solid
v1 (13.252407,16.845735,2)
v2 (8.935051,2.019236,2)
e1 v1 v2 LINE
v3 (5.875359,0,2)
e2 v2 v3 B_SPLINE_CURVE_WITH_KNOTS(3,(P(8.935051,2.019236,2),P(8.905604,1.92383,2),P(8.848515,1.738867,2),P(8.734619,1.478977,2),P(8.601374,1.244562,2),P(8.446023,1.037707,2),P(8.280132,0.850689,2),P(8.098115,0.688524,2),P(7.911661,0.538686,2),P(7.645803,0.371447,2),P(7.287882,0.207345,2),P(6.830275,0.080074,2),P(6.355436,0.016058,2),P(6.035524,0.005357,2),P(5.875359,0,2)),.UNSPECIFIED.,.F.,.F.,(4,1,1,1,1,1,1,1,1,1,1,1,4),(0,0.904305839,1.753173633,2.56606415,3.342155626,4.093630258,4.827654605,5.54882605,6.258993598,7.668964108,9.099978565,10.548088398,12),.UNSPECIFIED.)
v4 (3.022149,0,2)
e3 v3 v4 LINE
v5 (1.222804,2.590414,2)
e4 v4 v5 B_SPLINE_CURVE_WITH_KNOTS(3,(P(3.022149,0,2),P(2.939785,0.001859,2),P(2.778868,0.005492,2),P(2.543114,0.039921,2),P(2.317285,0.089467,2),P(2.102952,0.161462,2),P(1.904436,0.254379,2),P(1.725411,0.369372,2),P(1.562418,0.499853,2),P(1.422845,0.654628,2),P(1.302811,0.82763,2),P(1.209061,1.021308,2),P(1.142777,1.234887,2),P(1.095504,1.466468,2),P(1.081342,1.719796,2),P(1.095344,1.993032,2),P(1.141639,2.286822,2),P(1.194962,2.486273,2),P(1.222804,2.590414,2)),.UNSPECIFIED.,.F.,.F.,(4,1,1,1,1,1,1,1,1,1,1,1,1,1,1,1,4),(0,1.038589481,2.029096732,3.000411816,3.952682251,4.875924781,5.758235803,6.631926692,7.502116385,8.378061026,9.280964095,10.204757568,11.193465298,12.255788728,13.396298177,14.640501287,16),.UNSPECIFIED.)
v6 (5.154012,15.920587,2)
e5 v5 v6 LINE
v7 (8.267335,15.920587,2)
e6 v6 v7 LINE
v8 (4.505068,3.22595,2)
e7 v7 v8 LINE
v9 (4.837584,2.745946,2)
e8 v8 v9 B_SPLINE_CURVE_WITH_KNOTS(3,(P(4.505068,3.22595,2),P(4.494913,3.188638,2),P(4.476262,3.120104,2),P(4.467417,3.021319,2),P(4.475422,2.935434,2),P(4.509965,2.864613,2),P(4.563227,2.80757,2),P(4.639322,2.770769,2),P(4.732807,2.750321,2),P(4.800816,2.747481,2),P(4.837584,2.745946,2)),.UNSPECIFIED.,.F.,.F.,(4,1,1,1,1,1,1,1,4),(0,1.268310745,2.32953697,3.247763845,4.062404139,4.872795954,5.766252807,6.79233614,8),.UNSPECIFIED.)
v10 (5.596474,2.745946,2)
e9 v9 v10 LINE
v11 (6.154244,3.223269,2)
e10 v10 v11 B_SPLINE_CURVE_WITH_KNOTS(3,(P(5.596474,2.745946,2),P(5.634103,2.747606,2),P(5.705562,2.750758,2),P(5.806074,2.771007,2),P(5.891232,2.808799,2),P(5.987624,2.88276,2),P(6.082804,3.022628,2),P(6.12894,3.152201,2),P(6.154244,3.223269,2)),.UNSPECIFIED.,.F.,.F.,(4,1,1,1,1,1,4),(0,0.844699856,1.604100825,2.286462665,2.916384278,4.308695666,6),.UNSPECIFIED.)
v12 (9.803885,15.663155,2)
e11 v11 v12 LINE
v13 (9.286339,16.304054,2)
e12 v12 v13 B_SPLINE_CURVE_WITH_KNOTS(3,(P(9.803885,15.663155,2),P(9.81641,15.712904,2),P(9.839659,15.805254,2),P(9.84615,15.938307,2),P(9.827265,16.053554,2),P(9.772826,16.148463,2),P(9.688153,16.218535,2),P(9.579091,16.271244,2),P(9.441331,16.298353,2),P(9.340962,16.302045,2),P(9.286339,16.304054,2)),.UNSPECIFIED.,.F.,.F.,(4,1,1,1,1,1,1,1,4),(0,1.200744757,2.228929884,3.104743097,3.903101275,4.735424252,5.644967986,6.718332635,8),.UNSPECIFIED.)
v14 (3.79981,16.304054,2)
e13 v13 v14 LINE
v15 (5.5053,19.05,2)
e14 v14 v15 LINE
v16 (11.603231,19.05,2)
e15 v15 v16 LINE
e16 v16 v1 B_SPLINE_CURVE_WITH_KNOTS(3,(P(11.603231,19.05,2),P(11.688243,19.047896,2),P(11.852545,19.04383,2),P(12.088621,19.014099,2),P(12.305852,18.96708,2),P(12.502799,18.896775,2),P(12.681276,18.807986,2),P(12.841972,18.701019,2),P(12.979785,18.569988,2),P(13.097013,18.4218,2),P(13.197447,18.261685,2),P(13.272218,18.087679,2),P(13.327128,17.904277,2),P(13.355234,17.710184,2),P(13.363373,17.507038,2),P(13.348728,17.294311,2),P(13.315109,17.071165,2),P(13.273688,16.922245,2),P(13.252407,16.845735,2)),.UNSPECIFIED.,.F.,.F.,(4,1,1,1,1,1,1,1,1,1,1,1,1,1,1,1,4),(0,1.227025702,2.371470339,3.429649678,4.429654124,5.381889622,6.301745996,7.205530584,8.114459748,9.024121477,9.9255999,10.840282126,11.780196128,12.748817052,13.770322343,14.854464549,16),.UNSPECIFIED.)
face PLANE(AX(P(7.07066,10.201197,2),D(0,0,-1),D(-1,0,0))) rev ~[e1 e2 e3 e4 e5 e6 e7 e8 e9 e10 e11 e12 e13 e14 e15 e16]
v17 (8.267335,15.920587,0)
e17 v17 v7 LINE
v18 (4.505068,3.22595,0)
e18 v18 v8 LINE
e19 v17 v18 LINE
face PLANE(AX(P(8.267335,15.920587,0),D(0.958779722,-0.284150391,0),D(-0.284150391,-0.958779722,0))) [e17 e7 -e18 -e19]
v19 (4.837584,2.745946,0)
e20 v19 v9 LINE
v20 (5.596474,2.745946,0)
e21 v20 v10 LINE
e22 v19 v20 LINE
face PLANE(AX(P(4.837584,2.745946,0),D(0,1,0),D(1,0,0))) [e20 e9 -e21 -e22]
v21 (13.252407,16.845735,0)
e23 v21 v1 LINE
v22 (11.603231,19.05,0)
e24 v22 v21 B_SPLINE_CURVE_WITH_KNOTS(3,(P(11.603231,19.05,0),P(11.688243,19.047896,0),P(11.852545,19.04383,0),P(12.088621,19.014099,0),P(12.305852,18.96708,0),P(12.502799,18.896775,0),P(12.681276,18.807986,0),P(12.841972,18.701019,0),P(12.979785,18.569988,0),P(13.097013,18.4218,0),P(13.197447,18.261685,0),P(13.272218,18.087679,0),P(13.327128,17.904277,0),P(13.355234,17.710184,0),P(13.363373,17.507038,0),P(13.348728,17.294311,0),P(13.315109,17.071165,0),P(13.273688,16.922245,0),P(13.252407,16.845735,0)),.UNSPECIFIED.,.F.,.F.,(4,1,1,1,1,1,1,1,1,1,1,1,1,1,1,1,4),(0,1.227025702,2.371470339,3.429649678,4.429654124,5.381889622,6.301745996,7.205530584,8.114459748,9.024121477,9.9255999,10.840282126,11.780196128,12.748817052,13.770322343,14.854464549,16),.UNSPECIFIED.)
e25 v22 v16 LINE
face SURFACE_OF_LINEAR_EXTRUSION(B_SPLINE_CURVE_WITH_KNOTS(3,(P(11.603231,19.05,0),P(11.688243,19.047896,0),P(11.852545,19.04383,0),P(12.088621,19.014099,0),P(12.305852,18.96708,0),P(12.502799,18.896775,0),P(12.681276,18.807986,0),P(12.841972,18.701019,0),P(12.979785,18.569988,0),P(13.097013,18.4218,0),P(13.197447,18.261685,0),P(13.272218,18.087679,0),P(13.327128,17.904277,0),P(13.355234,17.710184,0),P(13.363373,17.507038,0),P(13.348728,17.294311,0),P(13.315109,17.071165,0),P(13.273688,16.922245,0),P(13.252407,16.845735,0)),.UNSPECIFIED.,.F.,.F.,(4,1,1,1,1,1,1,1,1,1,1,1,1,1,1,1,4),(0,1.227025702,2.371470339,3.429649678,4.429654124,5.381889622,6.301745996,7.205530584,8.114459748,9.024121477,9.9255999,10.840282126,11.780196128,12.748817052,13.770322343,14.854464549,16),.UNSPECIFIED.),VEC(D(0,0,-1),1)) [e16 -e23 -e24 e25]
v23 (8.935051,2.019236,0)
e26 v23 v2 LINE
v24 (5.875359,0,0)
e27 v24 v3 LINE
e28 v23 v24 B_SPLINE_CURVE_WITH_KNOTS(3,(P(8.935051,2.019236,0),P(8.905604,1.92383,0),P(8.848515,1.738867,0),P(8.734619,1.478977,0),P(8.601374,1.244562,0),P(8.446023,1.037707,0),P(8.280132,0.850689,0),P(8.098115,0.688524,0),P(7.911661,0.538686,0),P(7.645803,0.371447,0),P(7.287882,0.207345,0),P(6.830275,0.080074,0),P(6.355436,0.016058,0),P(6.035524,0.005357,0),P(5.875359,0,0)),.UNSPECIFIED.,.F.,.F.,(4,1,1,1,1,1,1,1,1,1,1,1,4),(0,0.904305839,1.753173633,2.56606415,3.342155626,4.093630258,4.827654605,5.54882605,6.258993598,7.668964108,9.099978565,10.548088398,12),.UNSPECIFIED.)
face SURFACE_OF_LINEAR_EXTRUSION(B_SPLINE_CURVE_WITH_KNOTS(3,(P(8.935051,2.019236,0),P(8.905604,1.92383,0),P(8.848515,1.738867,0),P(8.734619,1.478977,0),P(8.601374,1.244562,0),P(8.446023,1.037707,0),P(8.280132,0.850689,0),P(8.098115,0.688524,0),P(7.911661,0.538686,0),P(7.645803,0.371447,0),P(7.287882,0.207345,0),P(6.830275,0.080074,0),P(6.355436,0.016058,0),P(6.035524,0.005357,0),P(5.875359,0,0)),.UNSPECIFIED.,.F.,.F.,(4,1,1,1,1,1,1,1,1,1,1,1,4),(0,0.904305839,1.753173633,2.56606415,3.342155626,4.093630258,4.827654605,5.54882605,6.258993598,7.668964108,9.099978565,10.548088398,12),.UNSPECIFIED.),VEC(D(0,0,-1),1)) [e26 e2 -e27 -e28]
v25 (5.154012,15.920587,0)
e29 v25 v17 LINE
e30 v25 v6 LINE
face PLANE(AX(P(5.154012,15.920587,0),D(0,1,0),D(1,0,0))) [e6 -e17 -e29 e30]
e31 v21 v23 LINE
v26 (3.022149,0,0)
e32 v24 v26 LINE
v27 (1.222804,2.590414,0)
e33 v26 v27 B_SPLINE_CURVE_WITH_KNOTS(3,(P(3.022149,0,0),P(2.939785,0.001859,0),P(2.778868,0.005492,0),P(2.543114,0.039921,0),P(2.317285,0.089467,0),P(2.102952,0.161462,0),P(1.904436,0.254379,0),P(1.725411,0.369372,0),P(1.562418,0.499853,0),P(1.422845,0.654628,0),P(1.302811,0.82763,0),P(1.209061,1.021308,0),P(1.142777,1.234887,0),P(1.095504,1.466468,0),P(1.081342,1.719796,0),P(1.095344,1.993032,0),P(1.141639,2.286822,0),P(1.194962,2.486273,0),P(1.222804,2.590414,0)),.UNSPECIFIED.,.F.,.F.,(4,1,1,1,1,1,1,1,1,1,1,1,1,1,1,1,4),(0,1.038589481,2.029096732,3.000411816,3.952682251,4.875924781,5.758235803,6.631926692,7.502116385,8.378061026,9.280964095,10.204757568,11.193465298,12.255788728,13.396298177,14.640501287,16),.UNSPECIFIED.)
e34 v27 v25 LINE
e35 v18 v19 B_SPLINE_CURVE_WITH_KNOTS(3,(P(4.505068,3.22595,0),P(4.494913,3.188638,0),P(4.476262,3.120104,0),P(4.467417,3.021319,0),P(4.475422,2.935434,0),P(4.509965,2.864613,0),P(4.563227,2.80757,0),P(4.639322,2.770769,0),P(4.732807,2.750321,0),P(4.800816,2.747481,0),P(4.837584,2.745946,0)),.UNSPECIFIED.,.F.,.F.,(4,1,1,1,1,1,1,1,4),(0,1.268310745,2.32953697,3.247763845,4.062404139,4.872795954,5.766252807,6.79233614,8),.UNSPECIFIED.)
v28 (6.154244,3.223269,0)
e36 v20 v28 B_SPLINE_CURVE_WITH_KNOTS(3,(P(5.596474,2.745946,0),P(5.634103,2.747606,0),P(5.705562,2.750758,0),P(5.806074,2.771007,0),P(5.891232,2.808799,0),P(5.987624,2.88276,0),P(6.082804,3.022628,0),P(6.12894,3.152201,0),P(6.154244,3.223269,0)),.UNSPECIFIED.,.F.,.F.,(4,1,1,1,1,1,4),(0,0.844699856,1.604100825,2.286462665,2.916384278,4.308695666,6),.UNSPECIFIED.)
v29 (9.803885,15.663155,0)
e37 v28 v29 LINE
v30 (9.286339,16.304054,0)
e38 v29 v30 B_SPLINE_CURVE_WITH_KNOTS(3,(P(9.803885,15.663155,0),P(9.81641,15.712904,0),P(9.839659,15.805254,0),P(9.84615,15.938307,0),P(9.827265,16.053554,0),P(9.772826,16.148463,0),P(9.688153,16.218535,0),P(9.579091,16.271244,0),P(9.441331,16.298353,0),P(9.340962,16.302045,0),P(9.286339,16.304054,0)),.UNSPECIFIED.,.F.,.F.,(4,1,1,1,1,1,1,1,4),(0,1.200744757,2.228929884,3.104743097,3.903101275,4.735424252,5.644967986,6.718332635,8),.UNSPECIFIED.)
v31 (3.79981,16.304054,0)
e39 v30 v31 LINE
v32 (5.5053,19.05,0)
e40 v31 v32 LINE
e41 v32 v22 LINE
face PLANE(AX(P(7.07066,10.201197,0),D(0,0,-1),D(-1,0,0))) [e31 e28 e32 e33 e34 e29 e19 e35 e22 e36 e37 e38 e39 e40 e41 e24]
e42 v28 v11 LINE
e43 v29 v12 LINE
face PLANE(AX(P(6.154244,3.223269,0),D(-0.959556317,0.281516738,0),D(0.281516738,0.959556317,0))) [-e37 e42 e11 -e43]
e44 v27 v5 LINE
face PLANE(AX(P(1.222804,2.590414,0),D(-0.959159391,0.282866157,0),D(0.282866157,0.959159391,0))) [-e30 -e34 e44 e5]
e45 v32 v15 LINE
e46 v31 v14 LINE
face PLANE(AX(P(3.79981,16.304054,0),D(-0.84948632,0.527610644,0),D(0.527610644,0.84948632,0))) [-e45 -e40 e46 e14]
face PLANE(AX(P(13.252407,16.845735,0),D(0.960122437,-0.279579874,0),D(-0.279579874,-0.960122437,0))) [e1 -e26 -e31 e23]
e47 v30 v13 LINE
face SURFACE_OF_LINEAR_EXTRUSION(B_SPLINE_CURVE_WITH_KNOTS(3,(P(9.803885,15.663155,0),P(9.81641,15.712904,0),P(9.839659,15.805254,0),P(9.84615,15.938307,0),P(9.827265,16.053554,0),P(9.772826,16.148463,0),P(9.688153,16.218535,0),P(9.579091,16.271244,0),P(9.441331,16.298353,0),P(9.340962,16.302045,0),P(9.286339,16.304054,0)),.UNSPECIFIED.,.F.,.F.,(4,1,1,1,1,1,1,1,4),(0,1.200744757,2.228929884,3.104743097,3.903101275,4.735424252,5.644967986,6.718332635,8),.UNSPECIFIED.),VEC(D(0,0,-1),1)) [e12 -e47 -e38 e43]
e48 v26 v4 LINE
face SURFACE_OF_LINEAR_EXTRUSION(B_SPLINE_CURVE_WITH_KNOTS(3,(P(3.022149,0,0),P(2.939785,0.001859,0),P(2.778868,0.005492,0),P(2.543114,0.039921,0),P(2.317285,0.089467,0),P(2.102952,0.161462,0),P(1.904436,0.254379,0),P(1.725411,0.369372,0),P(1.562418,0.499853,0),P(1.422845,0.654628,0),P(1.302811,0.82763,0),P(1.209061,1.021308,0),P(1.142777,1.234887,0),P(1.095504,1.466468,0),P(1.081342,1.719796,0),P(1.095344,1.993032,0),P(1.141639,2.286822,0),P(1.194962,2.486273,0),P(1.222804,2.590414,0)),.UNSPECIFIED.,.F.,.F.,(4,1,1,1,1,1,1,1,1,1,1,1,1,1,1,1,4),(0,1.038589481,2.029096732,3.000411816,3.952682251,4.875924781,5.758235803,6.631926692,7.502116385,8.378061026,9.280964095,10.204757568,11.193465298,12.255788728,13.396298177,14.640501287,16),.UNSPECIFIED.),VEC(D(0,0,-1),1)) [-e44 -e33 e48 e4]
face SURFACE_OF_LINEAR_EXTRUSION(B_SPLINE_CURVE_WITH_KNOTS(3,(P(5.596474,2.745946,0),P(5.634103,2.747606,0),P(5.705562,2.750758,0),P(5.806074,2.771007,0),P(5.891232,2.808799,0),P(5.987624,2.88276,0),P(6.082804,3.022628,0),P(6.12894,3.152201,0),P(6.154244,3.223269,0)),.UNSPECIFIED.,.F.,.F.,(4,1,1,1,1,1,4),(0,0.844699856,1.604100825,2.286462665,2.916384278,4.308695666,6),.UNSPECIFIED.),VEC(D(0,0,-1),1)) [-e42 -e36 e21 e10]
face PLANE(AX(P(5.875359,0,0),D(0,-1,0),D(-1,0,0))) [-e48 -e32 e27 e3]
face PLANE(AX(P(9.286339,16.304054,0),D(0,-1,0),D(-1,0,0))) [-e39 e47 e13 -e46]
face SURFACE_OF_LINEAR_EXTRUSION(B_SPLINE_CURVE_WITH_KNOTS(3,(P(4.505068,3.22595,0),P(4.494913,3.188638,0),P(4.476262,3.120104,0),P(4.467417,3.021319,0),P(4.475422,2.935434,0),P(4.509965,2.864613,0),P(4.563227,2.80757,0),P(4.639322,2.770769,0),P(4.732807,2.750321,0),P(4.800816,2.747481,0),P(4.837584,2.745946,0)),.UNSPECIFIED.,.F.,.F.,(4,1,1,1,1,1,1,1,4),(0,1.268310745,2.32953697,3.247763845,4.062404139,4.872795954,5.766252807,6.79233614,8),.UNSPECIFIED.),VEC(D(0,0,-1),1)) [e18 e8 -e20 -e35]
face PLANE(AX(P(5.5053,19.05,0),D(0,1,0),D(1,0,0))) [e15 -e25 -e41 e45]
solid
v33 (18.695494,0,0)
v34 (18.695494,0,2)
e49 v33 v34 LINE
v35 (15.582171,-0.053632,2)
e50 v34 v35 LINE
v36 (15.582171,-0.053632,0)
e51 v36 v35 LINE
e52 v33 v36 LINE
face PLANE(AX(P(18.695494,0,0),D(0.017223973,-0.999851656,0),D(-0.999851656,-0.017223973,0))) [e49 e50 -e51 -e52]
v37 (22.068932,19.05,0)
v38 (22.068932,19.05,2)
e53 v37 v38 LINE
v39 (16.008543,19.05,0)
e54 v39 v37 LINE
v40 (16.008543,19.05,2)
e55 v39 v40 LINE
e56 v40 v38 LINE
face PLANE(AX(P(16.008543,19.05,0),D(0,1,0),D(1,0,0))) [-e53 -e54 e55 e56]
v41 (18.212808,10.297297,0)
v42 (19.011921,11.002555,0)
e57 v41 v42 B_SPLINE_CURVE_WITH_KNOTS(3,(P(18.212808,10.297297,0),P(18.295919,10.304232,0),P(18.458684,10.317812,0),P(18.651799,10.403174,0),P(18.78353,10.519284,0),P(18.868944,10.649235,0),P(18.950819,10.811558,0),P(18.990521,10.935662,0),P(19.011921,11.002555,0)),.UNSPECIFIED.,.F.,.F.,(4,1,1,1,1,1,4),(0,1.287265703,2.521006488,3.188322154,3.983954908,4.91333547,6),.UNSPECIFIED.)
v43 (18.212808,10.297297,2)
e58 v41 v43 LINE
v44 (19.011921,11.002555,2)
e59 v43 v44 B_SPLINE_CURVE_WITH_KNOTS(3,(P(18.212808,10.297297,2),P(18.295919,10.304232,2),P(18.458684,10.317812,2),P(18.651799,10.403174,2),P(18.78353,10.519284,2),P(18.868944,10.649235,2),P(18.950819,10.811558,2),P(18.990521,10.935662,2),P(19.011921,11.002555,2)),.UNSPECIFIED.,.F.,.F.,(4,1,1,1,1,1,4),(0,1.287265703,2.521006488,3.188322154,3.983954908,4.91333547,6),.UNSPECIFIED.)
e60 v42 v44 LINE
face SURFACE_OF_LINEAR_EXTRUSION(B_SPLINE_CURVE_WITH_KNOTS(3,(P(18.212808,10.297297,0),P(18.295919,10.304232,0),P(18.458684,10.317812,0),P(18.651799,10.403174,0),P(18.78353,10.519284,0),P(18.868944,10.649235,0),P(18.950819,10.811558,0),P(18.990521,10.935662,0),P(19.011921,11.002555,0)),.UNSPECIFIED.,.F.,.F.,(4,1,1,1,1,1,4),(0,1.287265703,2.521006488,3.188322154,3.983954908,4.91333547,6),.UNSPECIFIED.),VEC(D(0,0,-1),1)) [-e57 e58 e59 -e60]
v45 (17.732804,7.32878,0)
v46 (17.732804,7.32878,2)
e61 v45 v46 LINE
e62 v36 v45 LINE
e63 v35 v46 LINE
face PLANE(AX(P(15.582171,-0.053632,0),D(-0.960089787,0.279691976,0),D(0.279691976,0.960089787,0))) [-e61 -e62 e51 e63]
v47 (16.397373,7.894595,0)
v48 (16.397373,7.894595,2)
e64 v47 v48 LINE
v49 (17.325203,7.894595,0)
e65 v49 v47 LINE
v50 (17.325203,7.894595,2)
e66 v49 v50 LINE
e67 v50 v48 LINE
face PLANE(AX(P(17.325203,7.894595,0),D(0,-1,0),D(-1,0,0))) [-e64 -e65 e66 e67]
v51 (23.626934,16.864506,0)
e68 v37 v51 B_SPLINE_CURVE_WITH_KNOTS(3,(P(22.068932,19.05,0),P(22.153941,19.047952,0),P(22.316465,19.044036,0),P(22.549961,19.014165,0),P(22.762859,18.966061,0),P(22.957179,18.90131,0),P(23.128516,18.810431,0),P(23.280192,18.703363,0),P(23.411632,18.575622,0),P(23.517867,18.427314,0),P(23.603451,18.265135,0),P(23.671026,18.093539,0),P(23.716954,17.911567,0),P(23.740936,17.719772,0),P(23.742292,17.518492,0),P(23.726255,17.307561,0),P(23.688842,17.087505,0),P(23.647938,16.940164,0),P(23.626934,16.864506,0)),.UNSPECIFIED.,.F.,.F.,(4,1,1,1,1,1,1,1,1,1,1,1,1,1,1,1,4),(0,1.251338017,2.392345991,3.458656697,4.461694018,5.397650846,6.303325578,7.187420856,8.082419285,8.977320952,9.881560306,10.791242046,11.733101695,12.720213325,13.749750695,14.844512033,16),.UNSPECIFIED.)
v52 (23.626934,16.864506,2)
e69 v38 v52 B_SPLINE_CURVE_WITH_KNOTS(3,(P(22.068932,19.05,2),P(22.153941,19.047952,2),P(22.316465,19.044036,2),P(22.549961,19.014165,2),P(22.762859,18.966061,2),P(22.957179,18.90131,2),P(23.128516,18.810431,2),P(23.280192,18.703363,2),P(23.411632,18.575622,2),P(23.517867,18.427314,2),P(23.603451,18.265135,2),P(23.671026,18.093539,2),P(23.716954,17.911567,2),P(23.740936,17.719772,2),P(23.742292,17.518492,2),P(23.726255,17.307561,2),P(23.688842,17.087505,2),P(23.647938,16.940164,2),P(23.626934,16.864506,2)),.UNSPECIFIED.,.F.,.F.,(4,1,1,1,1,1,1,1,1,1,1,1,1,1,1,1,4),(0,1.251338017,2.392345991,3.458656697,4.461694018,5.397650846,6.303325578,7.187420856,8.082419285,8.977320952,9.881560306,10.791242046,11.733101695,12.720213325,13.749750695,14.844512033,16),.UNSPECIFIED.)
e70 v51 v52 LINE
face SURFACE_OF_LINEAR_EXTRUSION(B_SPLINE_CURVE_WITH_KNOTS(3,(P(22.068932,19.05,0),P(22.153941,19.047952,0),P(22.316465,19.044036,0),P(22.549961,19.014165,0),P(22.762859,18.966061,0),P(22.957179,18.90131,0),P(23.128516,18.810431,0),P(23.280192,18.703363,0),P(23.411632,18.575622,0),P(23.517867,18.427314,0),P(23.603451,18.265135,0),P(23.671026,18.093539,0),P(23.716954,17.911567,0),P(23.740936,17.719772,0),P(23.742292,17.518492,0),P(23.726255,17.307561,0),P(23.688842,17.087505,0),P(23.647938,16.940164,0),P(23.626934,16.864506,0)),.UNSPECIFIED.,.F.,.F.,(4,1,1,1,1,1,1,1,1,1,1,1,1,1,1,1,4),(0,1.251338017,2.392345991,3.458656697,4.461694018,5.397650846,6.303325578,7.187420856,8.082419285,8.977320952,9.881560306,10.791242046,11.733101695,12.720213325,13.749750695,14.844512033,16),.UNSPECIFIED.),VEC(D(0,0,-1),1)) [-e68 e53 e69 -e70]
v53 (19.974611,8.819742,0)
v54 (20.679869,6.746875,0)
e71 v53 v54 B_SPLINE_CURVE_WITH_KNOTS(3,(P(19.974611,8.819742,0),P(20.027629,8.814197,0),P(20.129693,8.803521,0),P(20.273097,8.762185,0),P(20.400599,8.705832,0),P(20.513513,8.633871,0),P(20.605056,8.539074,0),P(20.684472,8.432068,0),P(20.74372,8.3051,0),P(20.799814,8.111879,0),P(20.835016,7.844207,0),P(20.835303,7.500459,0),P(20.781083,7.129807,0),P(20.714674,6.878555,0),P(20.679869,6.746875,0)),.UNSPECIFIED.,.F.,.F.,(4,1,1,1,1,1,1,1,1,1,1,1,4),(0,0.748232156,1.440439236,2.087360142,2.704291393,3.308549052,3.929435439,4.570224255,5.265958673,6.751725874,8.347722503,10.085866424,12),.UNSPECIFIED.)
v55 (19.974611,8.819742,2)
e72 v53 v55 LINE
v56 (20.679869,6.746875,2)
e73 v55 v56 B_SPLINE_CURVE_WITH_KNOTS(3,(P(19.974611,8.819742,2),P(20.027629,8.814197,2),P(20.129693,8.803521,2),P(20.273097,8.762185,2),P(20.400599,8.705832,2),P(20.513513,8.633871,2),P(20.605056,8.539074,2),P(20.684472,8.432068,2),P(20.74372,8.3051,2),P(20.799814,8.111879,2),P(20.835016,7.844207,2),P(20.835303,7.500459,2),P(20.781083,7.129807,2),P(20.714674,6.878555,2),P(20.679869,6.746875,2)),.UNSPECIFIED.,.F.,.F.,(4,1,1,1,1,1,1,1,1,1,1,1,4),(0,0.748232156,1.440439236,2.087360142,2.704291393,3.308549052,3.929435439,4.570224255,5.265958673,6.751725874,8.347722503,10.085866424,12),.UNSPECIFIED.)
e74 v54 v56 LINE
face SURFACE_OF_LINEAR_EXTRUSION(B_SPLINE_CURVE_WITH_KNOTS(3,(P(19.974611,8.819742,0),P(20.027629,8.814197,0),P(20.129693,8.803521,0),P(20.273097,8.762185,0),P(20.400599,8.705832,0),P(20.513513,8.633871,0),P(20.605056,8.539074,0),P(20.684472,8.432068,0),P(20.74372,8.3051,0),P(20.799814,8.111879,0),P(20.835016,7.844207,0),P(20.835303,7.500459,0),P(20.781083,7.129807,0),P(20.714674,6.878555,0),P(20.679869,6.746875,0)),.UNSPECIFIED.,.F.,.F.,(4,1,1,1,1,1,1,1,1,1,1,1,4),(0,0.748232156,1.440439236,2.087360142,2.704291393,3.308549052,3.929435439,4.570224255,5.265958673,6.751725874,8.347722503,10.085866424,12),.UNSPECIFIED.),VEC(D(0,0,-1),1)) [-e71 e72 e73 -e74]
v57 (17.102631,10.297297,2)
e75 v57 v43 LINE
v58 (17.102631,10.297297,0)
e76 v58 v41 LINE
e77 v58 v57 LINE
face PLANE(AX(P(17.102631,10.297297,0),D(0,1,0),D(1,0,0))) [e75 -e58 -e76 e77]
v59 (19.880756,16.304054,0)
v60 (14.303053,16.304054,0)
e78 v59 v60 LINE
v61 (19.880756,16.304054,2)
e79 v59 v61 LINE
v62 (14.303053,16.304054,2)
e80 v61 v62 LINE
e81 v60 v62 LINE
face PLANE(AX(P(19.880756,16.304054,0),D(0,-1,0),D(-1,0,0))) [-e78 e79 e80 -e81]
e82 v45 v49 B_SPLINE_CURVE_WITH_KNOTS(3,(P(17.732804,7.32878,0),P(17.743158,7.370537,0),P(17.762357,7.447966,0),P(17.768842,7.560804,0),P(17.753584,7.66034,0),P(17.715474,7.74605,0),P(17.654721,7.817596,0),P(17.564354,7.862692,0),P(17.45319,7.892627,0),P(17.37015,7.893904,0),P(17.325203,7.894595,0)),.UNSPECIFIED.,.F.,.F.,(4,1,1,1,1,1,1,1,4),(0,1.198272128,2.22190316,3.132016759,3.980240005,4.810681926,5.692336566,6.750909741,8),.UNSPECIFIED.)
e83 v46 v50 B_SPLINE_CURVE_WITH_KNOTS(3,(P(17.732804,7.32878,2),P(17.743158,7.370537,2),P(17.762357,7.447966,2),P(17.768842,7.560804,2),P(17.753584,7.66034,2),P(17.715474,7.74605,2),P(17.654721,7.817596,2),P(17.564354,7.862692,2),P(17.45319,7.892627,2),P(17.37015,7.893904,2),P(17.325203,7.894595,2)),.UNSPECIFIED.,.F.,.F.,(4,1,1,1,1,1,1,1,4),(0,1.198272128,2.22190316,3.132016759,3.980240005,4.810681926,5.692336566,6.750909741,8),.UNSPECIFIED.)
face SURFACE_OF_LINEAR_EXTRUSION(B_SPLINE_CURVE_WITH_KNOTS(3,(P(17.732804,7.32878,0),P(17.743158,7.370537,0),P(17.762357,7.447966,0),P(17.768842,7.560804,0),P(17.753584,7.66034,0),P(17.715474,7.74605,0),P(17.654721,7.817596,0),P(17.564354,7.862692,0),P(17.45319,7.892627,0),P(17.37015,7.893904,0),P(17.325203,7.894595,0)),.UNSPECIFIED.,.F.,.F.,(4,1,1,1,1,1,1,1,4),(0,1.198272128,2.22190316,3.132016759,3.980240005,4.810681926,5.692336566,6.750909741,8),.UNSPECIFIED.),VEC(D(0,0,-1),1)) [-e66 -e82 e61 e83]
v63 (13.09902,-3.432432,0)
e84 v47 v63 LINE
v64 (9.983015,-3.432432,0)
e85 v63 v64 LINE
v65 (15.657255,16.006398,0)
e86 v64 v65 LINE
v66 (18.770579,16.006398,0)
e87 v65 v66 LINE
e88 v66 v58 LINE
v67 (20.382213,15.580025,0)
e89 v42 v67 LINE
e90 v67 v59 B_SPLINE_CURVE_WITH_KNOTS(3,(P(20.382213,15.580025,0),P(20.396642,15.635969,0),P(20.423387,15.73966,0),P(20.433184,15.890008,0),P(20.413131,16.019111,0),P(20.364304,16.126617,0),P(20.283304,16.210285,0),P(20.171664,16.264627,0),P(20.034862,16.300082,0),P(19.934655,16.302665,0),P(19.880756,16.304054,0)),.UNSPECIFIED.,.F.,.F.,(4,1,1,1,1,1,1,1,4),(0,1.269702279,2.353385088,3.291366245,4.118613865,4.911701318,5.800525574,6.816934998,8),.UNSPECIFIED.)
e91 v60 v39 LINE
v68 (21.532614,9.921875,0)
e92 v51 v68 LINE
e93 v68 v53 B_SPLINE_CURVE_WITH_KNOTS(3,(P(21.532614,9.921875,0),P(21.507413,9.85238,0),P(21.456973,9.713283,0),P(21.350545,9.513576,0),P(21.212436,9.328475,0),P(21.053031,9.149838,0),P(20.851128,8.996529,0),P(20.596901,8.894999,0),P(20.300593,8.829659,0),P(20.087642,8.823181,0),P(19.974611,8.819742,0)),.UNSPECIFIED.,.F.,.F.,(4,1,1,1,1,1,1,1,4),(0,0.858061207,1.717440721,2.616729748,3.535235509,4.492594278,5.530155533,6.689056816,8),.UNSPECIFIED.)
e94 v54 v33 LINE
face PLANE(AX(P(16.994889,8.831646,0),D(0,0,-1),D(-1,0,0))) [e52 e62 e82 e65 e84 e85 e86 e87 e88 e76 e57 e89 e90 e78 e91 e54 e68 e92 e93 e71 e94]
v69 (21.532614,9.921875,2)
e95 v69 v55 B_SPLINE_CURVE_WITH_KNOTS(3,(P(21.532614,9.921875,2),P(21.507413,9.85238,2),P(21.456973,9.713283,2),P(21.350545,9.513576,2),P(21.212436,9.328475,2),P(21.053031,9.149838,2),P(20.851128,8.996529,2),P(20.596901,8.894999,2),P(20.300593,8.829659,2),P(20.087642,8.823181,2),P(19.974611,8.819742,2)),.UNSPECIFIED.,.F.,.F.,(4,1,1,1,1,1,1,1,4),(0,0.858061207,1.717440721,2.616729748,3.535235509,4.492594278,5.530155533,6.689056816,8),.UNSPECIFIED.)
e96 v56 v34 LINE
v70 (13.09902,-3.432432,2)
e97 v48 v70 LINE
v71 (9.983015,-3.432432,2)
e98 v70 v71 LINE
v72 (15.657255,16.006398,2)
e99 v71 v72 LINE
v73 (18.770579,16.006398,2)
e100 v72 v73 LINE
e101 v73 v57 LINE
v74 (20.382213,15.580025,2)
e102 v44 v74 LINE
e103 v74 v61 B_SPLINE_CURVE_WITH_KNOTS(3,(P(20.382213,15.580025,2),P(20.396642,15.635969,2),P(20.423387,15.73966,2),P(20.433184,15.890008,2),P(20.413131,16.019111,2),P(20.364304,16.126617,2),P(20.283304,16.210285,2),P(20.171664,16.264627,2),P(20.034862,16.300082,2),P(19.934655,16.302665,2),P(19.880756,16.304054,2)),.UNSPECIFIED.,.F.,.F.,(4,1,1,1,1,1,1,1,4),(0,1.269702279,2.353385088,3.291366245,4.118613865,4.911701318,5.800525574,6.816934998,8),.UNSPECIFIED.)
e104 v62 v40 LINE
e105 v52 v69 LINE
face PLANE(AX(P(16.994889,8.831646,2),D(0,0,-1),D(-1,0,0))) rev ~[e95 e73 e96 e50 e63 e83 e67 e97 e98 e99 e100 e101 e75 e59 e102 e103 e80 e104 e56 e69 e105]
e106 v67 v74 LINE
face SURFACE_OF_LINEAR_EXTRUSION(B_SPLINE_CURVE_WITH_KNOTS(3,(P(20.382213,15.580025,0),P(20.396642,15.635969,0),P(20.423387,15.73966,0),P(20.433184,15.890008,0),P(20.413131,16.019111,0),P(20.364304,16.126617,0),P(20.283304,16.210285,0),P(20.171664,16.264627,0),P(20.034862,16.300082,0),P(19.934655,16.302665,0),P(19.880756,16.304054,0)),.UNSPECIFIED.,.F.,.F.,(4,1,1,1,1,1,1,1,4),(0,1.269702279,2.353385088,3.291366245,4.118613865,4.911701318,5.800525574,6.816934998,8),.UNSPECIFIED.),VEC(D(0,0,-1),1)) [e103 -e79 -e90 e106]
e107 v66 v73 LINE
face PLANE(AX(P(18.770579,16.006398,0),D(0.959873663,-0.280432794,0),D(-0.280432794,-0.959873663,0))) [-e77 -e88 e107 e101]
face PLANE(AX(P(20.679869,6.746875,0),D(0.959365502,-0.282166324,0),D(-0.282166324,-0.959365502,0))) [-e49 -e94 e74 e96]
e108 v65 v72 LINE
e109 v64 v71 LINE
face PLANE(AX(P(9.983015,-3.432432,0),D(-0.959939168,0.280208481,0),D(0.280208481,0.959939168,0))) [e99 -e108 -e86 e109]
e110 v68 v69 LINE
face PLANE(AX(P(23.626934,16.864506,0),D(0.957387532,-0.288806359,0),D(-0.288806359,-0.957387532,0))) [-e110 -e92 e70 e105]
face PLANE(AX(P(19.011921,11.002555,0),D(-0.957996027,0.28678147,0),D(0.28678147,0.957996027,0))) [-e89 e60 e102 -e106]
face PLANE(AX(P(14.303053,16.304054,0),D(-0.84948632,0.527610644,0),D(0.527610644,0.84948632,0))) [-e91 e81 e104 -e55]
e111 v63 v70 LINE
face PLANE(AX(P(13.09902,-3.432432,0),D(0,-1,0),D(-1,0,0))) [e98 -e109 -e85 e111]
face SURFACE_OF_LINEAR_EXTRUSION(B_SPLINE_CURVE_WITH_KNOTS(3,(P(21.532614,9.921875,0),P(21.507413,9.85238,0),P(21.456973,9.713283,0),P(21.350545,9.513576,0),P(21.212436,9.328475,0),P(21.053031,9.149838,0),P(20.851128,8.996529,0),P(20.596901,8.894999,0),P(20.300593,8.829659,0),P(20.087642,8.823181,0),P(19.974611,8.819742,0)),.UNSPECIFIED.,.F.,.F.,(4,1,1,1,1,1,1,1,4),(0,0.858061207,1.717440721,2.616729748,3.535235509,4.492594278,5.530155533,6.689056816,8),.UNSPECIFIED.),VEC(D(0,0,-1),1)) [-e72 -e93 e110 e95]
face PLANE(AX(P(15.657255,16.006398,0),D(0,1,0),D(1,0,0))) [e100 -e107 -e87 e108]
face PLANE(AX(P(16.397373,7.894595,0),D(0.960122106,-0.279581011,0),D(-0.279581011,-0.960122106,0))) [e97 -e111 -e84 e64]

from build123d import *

# Parameters (mm, degrees)
BOSS_EXTRU_1_DEPTH   = 2
BOSS_EXTRU_1_2_DEPTH = 2


with BuildPart() as part:
    # Esquisse1 → Boss.-Extru.1 (new body)
    with BuildSketch(Plane.XY):
        with BuildLine():
            add(Edge.make_bspline(
                [(9.803885135, 15.663154561), (9.816409793, 15.712904153), (9.839659183, 15.805253798), (9.846149572, 15.938306858), (9.827265222, 16.053553889), (9.77282614, 16.148463232), (9.688153375, 16.218534536), (9.579091426, 16.27124441), (9.441331185, 16.298352791), (9.340962068, 16.302044781), (9.286338682, 16.304054054)],
                knots=[0, 0, 0, 0, 1.200744757, 2.228929884, 3.104743097, 3.903101275, 4.735424252, 5.644967986, 6.718332635, 8, 8, 8, 8], degree=3))
            Line((9.286338682, 16.304054054), (3.799809966, 16.304054054))
            Line((3.799809966, 16.304054054), (5.505299831, 19.05))
            Line((5.505299831, 19.05), (11.603230574, 19.05))
            add(Edge.make_bspline(
                [(11.603230574, 19.05), (11.68824262, 19.047896263), (11.852545246, 19.043830373), (12.088620561, 19.014099347), (12.305851815, 18.967079914), (12.502799226, 18.896774588), (12.681276033, 18.80798568), (12.841971855, 18.701019071), (12.979785219, 18.569988421), (13.097013166, 18.421799764), (13.197447048, 18.261684848), (13.272218183, 18.087678978), (13.327127625, 17.904277464), (13.355234183, 17.710184118), (13.363372801, 17.507037584), (13.348727902, 17.294311327), (13.315109158, 17.07116462), (13.273687954, 16.922244886), (13.252407095, 16.845734797)],
                knots=[0, 0, 0, 0, 1.227025702, 2.371470339, 3.429649678, 4.429654124, 5.381889622, 6.301745996, 7.205530584, 8.114459748, 9.024121477, 9.9255999, 10.840282126, 11.780196128, 12.748817052, 13.770322343, 14.854464549, 16, 16, 16, 16], degree=3))
            Line((13.252407095, 16.845734797), (8.935050676, 2.019235642))
            add(Edge.make_bspline(
                [(8.935050676, 2.019235642), (8.905603638, 1.923829672), (8.848514798, 1.738866552), (8.734619241, 1.478977208), (8.6013741, 1.244562414), (8.446022548, 1.037706876), (8.280132329, 0.850688776), (8.098115046, 0.688523921), (7.91166126, 0.538685851), (7.645802968, 0.371446897), (7.287882261, 0.20734529), (6.83027548, 0.080074421), (6.355435913, 0.016058195), (6.035524402, 0.005357408), (5.875358953, 0)],
                knots=[0, 0, 0, 0, 0.904305839, 1.753173633, 2.56606415, 3.342155626, 4.093630258, 4.827654605, 5.54882605, 6.258993598, 7.668964108, 9.099978565, 10.548088398, 12, 12, 12, 12], degree=3))
            Line((5.875358953, 0), (3.022149493, 0))
            add(Edge.make_bspline(
                [(3.022149493, 0), (2.939784699, 0.001859381), (2.778868248, 0.00549206), (2.543113775, 0.039920762), (2.317285433, 0.089467356), (2.102951987, 0.161461504), (1.904436206, 0.25437857), (1.725410538, 0.369372007), (1.562417554, 0.49985257), (1.422844741, 0.654627603), (1.302810827, 0.827630135), (1.209060792, 1.021308482), (1.142776616, 1.234886955), (1.095503893, 1.466467906), (1.081341853, 1.719795942), (1.095343569, 1.993031733), (1.141638538, 2.286822184), (1.194961805, 2.486272646), (1.222804054, 2.590413851)],
                knots=[0, 0, 0, 0, 1.038589481, 2.029096732, 3.000411816, 3.952682251, 4.875924781, 5.758235803, 6.631926692, 7.502116385, 8.378061026, 9.280964095, 10.204757568, 11.193465298, 12.255788728, 13.396298177, 14.640501287, 16, 16, 16, 16], degree=3))
            Line((1.222804054, 2.590413851), (5.154011824, 15.920586993))
            Line((5.154011824, 15.920586993), (8.267335304, 15.920586993))
            Line((8.267335304, 15.920586993), (4.505067568, 3.225950169))
            add(Edge.make_bspline(
                [(4.505067568, 3.225950169), (4.494912881, 3.188637516), (4.476261524, 3.120104465), (4.467416901, 3.021318635), (4.475422066, 2.935434328), (4.509964632, 2.864613473), (4.563226616, 2.807570062), (4.639322457, 2.770768603), (4.732807448, 2.750320602), (4.800815992, 2.747481105), (4.837584459, 2.745945946)],
                knots=[0, 0, 0, 0, 1.268310745, 2.32953697, 3.247763845, 4.062404139, 4.872795954, 5.766252807, 6.79233614, 8, 8, 8, 8], degree=3))
            Line((4.837584459, 2.745945946), (5.596473818, 2.745945946))
            add(Edge.make_bspline(
                [(5.596473818, 2.745945946), (5.634103248, 2.747605816), (5.705562241, 2.750757941), (5.806074156, 2.771006828), (5.891232253, 2.808798608), (5.987623668, 2.882759994), (6.082803758, 3.022628189), (6.128939509, 3.152200592), (6.154244088, 3.223268581)],
                knots=[0, 0, 0, 0, 0.844699856, 1.604100825, 2.286462665, 2.916384278, 4.308695666, 6, 6, 6, 6], degree=3))
            Line((6.154244088, 3.223268581), (9.803885135, 15.663154561))
        make_face()
    extrude(amount=BOSS_EXTRU_1_DEPTH)


with BuildPart() as body_2:
    # Esquisse1 → Boss.-Extru.1 2 (new body)
    with BuildSketch(Plane.XY):
        with BuildLine():
            add(Edge.make_bspline(
                [(18.212808277, 10.297297297), (18.295918717, 10.304231778), (18.458683838, 10.317812401), (18.651799119, 10.403174373), (18.783529757, 10.51928371), (18.868943797, 10.649235383), (18.950818794, 10.811558355), (18.990521419, 10.935662023), (19.011921453, 11.002554899)],
                knots=[0, 0, 0, 0, 1.287265703, 2.521006488, 3.188322154, 3.983954908, 4.91333547, 6, 6, 6, 6], degree=3))
            Line((19.011921453, 11.002554899), (20.382212838, 15.580025338))
            add(Edge.make_bspline(
                [(20.382212838, 15.580025338), (20.396642206, 15.635969028), (20.423386947, 15.739660302), (20.433184109, 15.890007697), (20.413130714, 16.019111457), (20.364303885, 16.126616895), (20.283303647, 16.210284539), (20.171664035, 16.264627056), (20.034861699, 16.300081609), (19.934655406, 16.302664666), (19.880755912, 16.304054054)],
                knots=[0, 0, 0, 0, 1.269702279, 2.353385088, 3.291366245, 4.118613865, 4.911701318, 5.800525574, 6.816934998, 8, 8, 8, 8], degree=3))
            Line((19.880755912, 16.304054054), (14.303053209, 16.304054054))
            Line((14.303053209, 16.304054054), (16.008543074, 19.05))
            Line((16.008543074, 19.05), (22.068931588, 19.05))
            add(Edge.make_bspline(
                [(22.068931588, 19.05), (22.15394113, 19.047951653), (22.316464953, 19.044035562), (22.549960633, 19.014165272), (22.762858807, 18.966060825), (22.957179159, 18.901310345), (23.128515517, 18.810431195), (23.280192277, 18.70336331), (23.411632361, 18.575621897), (23.517866758, 18.427313968), (23.603450785, 18.265134782), (23.671026247, 18.093539129), (23.716953928, 17.911566832), (23.740935983, 17.719772333), (23.742292178, 17.518491613), (23.726254943, 17.307561109), (23.68884247, 17.087505199), (23.647938194, 16.940164418), (23.626934122, 16.864505912)],
                knots=[0, 0, 0, 0, 1.251338017, 2.392345991, 3.458656697, 4.461694018, 5.397650846, 6.303325578, 7.187420856, 8.082419285, 8.977320952, 9.881560306, 10.791242046, 11.733101695, 12.720213325, 13.749750695, 14.844512033, 16, 16, 16, 16], degree=3))
            Line((23.626934122, 16.864505912), (21.53261402, 9.921875))
            add(Edge.make_bspline(
                [(21.53261402, 9.921875), (21.507413321, 9.852380032), (21.456973203, 9.713283324), (21.350545111, 9.513576411), (21.212435809, 9.328474623), (21.053030698, 9.149837602), (20.851128151, 8.996529077), (20.596900937, 8.894999309), (20.300593096, 8.829658609), (20.087641735, 8.823180727), (19.974611486, 8.819742399)],
                knots=[0, 0, 0, 0, 0.858061207, 1.717440721, 2.616729748, 3.535235509, 4.492594278, 5.530155533, 6.689056816, 8, 8, 8, 8], degree=3))
            add(Edge.make_bspline(
                [(19.974611486, 8.819742399), (20.027628658, 8.81419687), (20.129693255, 8.803521042), (20.27309683, 8.762185313), (20.400598827, 8.705832246), (20.513512551, 8.633871368), (20.605055661, 8.539073707), (20.684472118, 8.432067947), (20.743720273, 8.305100232), (20.799813691, 8.1118793), (20.835016452, 7.84420689), (20.835302838, 7.500459073), (20.781083345, 7.129806974), (20.714673849, 6.87855463), (20.679869088, 6.746875)],
                knots=[0, 0, 0, 0, 0.748232156, 1.440439236, 2.087360142, 2.704291393, 3.308549052, 3.929435439, 4.570224255, 5.265958673, 6.751725874, 8.347722503, 10.085866424, 12, 12, 12, 12], degree=3))
            Line((20.679869088, 6.746875), (18.695494088, 0))
            Line((18.695494088, 0), (15.582170608, -0.053631757))
            Line((15.582170608, -0.053631757), (17.732804054, 7.328779561))
            add(Edge.make_bspline(
                [(17.732804054, 7.328779561), (17.743157939, 7.370537136), (17.762356691, 7.447966366), (17.768841812, 7.560804024), (17.753584394, 7.660340167), (17.715473563, 7.746050368), (17.654720853, 7.817596302), (17.564354256, 7.862692412), (17.453189811, 7.8926271), (17.370150277, 7.893903634), (17.325202703, 7.894594595)],
                knots=[0, 0, 0, 0, 1.198272128, 2.22190316, 3.132016759, 3.980240005, 4.810681926, 5.692336566, 6.750909741, 8, 8, 8, 8], degree=3))
            Line((17.325202703, 7.894594595), (16.397373311, 7.894594595))
            Line((16.397373311, 7.894594595), (13.09902027, -3.432432432))
            Line((13.09902027, -3.432432432), (9.983015203, -3.432432432))
            Line((9.983015203, -3.432432432), (15.657255068, 16.006397804))
            Line((15.657255068, 16.006397804), (18.770578547, 16.006397804))
            Line((18.770578547, 16.006397804), (17.102630912, 10.297297297))
            Line((17.102630912, 10.297297297), (18.212808277, 10.297297297))
        make_face()
    extrude(amount=BOSS_EXTRU_1_2_DEPTH)


solid = Compound([part.part, body_2.part])
